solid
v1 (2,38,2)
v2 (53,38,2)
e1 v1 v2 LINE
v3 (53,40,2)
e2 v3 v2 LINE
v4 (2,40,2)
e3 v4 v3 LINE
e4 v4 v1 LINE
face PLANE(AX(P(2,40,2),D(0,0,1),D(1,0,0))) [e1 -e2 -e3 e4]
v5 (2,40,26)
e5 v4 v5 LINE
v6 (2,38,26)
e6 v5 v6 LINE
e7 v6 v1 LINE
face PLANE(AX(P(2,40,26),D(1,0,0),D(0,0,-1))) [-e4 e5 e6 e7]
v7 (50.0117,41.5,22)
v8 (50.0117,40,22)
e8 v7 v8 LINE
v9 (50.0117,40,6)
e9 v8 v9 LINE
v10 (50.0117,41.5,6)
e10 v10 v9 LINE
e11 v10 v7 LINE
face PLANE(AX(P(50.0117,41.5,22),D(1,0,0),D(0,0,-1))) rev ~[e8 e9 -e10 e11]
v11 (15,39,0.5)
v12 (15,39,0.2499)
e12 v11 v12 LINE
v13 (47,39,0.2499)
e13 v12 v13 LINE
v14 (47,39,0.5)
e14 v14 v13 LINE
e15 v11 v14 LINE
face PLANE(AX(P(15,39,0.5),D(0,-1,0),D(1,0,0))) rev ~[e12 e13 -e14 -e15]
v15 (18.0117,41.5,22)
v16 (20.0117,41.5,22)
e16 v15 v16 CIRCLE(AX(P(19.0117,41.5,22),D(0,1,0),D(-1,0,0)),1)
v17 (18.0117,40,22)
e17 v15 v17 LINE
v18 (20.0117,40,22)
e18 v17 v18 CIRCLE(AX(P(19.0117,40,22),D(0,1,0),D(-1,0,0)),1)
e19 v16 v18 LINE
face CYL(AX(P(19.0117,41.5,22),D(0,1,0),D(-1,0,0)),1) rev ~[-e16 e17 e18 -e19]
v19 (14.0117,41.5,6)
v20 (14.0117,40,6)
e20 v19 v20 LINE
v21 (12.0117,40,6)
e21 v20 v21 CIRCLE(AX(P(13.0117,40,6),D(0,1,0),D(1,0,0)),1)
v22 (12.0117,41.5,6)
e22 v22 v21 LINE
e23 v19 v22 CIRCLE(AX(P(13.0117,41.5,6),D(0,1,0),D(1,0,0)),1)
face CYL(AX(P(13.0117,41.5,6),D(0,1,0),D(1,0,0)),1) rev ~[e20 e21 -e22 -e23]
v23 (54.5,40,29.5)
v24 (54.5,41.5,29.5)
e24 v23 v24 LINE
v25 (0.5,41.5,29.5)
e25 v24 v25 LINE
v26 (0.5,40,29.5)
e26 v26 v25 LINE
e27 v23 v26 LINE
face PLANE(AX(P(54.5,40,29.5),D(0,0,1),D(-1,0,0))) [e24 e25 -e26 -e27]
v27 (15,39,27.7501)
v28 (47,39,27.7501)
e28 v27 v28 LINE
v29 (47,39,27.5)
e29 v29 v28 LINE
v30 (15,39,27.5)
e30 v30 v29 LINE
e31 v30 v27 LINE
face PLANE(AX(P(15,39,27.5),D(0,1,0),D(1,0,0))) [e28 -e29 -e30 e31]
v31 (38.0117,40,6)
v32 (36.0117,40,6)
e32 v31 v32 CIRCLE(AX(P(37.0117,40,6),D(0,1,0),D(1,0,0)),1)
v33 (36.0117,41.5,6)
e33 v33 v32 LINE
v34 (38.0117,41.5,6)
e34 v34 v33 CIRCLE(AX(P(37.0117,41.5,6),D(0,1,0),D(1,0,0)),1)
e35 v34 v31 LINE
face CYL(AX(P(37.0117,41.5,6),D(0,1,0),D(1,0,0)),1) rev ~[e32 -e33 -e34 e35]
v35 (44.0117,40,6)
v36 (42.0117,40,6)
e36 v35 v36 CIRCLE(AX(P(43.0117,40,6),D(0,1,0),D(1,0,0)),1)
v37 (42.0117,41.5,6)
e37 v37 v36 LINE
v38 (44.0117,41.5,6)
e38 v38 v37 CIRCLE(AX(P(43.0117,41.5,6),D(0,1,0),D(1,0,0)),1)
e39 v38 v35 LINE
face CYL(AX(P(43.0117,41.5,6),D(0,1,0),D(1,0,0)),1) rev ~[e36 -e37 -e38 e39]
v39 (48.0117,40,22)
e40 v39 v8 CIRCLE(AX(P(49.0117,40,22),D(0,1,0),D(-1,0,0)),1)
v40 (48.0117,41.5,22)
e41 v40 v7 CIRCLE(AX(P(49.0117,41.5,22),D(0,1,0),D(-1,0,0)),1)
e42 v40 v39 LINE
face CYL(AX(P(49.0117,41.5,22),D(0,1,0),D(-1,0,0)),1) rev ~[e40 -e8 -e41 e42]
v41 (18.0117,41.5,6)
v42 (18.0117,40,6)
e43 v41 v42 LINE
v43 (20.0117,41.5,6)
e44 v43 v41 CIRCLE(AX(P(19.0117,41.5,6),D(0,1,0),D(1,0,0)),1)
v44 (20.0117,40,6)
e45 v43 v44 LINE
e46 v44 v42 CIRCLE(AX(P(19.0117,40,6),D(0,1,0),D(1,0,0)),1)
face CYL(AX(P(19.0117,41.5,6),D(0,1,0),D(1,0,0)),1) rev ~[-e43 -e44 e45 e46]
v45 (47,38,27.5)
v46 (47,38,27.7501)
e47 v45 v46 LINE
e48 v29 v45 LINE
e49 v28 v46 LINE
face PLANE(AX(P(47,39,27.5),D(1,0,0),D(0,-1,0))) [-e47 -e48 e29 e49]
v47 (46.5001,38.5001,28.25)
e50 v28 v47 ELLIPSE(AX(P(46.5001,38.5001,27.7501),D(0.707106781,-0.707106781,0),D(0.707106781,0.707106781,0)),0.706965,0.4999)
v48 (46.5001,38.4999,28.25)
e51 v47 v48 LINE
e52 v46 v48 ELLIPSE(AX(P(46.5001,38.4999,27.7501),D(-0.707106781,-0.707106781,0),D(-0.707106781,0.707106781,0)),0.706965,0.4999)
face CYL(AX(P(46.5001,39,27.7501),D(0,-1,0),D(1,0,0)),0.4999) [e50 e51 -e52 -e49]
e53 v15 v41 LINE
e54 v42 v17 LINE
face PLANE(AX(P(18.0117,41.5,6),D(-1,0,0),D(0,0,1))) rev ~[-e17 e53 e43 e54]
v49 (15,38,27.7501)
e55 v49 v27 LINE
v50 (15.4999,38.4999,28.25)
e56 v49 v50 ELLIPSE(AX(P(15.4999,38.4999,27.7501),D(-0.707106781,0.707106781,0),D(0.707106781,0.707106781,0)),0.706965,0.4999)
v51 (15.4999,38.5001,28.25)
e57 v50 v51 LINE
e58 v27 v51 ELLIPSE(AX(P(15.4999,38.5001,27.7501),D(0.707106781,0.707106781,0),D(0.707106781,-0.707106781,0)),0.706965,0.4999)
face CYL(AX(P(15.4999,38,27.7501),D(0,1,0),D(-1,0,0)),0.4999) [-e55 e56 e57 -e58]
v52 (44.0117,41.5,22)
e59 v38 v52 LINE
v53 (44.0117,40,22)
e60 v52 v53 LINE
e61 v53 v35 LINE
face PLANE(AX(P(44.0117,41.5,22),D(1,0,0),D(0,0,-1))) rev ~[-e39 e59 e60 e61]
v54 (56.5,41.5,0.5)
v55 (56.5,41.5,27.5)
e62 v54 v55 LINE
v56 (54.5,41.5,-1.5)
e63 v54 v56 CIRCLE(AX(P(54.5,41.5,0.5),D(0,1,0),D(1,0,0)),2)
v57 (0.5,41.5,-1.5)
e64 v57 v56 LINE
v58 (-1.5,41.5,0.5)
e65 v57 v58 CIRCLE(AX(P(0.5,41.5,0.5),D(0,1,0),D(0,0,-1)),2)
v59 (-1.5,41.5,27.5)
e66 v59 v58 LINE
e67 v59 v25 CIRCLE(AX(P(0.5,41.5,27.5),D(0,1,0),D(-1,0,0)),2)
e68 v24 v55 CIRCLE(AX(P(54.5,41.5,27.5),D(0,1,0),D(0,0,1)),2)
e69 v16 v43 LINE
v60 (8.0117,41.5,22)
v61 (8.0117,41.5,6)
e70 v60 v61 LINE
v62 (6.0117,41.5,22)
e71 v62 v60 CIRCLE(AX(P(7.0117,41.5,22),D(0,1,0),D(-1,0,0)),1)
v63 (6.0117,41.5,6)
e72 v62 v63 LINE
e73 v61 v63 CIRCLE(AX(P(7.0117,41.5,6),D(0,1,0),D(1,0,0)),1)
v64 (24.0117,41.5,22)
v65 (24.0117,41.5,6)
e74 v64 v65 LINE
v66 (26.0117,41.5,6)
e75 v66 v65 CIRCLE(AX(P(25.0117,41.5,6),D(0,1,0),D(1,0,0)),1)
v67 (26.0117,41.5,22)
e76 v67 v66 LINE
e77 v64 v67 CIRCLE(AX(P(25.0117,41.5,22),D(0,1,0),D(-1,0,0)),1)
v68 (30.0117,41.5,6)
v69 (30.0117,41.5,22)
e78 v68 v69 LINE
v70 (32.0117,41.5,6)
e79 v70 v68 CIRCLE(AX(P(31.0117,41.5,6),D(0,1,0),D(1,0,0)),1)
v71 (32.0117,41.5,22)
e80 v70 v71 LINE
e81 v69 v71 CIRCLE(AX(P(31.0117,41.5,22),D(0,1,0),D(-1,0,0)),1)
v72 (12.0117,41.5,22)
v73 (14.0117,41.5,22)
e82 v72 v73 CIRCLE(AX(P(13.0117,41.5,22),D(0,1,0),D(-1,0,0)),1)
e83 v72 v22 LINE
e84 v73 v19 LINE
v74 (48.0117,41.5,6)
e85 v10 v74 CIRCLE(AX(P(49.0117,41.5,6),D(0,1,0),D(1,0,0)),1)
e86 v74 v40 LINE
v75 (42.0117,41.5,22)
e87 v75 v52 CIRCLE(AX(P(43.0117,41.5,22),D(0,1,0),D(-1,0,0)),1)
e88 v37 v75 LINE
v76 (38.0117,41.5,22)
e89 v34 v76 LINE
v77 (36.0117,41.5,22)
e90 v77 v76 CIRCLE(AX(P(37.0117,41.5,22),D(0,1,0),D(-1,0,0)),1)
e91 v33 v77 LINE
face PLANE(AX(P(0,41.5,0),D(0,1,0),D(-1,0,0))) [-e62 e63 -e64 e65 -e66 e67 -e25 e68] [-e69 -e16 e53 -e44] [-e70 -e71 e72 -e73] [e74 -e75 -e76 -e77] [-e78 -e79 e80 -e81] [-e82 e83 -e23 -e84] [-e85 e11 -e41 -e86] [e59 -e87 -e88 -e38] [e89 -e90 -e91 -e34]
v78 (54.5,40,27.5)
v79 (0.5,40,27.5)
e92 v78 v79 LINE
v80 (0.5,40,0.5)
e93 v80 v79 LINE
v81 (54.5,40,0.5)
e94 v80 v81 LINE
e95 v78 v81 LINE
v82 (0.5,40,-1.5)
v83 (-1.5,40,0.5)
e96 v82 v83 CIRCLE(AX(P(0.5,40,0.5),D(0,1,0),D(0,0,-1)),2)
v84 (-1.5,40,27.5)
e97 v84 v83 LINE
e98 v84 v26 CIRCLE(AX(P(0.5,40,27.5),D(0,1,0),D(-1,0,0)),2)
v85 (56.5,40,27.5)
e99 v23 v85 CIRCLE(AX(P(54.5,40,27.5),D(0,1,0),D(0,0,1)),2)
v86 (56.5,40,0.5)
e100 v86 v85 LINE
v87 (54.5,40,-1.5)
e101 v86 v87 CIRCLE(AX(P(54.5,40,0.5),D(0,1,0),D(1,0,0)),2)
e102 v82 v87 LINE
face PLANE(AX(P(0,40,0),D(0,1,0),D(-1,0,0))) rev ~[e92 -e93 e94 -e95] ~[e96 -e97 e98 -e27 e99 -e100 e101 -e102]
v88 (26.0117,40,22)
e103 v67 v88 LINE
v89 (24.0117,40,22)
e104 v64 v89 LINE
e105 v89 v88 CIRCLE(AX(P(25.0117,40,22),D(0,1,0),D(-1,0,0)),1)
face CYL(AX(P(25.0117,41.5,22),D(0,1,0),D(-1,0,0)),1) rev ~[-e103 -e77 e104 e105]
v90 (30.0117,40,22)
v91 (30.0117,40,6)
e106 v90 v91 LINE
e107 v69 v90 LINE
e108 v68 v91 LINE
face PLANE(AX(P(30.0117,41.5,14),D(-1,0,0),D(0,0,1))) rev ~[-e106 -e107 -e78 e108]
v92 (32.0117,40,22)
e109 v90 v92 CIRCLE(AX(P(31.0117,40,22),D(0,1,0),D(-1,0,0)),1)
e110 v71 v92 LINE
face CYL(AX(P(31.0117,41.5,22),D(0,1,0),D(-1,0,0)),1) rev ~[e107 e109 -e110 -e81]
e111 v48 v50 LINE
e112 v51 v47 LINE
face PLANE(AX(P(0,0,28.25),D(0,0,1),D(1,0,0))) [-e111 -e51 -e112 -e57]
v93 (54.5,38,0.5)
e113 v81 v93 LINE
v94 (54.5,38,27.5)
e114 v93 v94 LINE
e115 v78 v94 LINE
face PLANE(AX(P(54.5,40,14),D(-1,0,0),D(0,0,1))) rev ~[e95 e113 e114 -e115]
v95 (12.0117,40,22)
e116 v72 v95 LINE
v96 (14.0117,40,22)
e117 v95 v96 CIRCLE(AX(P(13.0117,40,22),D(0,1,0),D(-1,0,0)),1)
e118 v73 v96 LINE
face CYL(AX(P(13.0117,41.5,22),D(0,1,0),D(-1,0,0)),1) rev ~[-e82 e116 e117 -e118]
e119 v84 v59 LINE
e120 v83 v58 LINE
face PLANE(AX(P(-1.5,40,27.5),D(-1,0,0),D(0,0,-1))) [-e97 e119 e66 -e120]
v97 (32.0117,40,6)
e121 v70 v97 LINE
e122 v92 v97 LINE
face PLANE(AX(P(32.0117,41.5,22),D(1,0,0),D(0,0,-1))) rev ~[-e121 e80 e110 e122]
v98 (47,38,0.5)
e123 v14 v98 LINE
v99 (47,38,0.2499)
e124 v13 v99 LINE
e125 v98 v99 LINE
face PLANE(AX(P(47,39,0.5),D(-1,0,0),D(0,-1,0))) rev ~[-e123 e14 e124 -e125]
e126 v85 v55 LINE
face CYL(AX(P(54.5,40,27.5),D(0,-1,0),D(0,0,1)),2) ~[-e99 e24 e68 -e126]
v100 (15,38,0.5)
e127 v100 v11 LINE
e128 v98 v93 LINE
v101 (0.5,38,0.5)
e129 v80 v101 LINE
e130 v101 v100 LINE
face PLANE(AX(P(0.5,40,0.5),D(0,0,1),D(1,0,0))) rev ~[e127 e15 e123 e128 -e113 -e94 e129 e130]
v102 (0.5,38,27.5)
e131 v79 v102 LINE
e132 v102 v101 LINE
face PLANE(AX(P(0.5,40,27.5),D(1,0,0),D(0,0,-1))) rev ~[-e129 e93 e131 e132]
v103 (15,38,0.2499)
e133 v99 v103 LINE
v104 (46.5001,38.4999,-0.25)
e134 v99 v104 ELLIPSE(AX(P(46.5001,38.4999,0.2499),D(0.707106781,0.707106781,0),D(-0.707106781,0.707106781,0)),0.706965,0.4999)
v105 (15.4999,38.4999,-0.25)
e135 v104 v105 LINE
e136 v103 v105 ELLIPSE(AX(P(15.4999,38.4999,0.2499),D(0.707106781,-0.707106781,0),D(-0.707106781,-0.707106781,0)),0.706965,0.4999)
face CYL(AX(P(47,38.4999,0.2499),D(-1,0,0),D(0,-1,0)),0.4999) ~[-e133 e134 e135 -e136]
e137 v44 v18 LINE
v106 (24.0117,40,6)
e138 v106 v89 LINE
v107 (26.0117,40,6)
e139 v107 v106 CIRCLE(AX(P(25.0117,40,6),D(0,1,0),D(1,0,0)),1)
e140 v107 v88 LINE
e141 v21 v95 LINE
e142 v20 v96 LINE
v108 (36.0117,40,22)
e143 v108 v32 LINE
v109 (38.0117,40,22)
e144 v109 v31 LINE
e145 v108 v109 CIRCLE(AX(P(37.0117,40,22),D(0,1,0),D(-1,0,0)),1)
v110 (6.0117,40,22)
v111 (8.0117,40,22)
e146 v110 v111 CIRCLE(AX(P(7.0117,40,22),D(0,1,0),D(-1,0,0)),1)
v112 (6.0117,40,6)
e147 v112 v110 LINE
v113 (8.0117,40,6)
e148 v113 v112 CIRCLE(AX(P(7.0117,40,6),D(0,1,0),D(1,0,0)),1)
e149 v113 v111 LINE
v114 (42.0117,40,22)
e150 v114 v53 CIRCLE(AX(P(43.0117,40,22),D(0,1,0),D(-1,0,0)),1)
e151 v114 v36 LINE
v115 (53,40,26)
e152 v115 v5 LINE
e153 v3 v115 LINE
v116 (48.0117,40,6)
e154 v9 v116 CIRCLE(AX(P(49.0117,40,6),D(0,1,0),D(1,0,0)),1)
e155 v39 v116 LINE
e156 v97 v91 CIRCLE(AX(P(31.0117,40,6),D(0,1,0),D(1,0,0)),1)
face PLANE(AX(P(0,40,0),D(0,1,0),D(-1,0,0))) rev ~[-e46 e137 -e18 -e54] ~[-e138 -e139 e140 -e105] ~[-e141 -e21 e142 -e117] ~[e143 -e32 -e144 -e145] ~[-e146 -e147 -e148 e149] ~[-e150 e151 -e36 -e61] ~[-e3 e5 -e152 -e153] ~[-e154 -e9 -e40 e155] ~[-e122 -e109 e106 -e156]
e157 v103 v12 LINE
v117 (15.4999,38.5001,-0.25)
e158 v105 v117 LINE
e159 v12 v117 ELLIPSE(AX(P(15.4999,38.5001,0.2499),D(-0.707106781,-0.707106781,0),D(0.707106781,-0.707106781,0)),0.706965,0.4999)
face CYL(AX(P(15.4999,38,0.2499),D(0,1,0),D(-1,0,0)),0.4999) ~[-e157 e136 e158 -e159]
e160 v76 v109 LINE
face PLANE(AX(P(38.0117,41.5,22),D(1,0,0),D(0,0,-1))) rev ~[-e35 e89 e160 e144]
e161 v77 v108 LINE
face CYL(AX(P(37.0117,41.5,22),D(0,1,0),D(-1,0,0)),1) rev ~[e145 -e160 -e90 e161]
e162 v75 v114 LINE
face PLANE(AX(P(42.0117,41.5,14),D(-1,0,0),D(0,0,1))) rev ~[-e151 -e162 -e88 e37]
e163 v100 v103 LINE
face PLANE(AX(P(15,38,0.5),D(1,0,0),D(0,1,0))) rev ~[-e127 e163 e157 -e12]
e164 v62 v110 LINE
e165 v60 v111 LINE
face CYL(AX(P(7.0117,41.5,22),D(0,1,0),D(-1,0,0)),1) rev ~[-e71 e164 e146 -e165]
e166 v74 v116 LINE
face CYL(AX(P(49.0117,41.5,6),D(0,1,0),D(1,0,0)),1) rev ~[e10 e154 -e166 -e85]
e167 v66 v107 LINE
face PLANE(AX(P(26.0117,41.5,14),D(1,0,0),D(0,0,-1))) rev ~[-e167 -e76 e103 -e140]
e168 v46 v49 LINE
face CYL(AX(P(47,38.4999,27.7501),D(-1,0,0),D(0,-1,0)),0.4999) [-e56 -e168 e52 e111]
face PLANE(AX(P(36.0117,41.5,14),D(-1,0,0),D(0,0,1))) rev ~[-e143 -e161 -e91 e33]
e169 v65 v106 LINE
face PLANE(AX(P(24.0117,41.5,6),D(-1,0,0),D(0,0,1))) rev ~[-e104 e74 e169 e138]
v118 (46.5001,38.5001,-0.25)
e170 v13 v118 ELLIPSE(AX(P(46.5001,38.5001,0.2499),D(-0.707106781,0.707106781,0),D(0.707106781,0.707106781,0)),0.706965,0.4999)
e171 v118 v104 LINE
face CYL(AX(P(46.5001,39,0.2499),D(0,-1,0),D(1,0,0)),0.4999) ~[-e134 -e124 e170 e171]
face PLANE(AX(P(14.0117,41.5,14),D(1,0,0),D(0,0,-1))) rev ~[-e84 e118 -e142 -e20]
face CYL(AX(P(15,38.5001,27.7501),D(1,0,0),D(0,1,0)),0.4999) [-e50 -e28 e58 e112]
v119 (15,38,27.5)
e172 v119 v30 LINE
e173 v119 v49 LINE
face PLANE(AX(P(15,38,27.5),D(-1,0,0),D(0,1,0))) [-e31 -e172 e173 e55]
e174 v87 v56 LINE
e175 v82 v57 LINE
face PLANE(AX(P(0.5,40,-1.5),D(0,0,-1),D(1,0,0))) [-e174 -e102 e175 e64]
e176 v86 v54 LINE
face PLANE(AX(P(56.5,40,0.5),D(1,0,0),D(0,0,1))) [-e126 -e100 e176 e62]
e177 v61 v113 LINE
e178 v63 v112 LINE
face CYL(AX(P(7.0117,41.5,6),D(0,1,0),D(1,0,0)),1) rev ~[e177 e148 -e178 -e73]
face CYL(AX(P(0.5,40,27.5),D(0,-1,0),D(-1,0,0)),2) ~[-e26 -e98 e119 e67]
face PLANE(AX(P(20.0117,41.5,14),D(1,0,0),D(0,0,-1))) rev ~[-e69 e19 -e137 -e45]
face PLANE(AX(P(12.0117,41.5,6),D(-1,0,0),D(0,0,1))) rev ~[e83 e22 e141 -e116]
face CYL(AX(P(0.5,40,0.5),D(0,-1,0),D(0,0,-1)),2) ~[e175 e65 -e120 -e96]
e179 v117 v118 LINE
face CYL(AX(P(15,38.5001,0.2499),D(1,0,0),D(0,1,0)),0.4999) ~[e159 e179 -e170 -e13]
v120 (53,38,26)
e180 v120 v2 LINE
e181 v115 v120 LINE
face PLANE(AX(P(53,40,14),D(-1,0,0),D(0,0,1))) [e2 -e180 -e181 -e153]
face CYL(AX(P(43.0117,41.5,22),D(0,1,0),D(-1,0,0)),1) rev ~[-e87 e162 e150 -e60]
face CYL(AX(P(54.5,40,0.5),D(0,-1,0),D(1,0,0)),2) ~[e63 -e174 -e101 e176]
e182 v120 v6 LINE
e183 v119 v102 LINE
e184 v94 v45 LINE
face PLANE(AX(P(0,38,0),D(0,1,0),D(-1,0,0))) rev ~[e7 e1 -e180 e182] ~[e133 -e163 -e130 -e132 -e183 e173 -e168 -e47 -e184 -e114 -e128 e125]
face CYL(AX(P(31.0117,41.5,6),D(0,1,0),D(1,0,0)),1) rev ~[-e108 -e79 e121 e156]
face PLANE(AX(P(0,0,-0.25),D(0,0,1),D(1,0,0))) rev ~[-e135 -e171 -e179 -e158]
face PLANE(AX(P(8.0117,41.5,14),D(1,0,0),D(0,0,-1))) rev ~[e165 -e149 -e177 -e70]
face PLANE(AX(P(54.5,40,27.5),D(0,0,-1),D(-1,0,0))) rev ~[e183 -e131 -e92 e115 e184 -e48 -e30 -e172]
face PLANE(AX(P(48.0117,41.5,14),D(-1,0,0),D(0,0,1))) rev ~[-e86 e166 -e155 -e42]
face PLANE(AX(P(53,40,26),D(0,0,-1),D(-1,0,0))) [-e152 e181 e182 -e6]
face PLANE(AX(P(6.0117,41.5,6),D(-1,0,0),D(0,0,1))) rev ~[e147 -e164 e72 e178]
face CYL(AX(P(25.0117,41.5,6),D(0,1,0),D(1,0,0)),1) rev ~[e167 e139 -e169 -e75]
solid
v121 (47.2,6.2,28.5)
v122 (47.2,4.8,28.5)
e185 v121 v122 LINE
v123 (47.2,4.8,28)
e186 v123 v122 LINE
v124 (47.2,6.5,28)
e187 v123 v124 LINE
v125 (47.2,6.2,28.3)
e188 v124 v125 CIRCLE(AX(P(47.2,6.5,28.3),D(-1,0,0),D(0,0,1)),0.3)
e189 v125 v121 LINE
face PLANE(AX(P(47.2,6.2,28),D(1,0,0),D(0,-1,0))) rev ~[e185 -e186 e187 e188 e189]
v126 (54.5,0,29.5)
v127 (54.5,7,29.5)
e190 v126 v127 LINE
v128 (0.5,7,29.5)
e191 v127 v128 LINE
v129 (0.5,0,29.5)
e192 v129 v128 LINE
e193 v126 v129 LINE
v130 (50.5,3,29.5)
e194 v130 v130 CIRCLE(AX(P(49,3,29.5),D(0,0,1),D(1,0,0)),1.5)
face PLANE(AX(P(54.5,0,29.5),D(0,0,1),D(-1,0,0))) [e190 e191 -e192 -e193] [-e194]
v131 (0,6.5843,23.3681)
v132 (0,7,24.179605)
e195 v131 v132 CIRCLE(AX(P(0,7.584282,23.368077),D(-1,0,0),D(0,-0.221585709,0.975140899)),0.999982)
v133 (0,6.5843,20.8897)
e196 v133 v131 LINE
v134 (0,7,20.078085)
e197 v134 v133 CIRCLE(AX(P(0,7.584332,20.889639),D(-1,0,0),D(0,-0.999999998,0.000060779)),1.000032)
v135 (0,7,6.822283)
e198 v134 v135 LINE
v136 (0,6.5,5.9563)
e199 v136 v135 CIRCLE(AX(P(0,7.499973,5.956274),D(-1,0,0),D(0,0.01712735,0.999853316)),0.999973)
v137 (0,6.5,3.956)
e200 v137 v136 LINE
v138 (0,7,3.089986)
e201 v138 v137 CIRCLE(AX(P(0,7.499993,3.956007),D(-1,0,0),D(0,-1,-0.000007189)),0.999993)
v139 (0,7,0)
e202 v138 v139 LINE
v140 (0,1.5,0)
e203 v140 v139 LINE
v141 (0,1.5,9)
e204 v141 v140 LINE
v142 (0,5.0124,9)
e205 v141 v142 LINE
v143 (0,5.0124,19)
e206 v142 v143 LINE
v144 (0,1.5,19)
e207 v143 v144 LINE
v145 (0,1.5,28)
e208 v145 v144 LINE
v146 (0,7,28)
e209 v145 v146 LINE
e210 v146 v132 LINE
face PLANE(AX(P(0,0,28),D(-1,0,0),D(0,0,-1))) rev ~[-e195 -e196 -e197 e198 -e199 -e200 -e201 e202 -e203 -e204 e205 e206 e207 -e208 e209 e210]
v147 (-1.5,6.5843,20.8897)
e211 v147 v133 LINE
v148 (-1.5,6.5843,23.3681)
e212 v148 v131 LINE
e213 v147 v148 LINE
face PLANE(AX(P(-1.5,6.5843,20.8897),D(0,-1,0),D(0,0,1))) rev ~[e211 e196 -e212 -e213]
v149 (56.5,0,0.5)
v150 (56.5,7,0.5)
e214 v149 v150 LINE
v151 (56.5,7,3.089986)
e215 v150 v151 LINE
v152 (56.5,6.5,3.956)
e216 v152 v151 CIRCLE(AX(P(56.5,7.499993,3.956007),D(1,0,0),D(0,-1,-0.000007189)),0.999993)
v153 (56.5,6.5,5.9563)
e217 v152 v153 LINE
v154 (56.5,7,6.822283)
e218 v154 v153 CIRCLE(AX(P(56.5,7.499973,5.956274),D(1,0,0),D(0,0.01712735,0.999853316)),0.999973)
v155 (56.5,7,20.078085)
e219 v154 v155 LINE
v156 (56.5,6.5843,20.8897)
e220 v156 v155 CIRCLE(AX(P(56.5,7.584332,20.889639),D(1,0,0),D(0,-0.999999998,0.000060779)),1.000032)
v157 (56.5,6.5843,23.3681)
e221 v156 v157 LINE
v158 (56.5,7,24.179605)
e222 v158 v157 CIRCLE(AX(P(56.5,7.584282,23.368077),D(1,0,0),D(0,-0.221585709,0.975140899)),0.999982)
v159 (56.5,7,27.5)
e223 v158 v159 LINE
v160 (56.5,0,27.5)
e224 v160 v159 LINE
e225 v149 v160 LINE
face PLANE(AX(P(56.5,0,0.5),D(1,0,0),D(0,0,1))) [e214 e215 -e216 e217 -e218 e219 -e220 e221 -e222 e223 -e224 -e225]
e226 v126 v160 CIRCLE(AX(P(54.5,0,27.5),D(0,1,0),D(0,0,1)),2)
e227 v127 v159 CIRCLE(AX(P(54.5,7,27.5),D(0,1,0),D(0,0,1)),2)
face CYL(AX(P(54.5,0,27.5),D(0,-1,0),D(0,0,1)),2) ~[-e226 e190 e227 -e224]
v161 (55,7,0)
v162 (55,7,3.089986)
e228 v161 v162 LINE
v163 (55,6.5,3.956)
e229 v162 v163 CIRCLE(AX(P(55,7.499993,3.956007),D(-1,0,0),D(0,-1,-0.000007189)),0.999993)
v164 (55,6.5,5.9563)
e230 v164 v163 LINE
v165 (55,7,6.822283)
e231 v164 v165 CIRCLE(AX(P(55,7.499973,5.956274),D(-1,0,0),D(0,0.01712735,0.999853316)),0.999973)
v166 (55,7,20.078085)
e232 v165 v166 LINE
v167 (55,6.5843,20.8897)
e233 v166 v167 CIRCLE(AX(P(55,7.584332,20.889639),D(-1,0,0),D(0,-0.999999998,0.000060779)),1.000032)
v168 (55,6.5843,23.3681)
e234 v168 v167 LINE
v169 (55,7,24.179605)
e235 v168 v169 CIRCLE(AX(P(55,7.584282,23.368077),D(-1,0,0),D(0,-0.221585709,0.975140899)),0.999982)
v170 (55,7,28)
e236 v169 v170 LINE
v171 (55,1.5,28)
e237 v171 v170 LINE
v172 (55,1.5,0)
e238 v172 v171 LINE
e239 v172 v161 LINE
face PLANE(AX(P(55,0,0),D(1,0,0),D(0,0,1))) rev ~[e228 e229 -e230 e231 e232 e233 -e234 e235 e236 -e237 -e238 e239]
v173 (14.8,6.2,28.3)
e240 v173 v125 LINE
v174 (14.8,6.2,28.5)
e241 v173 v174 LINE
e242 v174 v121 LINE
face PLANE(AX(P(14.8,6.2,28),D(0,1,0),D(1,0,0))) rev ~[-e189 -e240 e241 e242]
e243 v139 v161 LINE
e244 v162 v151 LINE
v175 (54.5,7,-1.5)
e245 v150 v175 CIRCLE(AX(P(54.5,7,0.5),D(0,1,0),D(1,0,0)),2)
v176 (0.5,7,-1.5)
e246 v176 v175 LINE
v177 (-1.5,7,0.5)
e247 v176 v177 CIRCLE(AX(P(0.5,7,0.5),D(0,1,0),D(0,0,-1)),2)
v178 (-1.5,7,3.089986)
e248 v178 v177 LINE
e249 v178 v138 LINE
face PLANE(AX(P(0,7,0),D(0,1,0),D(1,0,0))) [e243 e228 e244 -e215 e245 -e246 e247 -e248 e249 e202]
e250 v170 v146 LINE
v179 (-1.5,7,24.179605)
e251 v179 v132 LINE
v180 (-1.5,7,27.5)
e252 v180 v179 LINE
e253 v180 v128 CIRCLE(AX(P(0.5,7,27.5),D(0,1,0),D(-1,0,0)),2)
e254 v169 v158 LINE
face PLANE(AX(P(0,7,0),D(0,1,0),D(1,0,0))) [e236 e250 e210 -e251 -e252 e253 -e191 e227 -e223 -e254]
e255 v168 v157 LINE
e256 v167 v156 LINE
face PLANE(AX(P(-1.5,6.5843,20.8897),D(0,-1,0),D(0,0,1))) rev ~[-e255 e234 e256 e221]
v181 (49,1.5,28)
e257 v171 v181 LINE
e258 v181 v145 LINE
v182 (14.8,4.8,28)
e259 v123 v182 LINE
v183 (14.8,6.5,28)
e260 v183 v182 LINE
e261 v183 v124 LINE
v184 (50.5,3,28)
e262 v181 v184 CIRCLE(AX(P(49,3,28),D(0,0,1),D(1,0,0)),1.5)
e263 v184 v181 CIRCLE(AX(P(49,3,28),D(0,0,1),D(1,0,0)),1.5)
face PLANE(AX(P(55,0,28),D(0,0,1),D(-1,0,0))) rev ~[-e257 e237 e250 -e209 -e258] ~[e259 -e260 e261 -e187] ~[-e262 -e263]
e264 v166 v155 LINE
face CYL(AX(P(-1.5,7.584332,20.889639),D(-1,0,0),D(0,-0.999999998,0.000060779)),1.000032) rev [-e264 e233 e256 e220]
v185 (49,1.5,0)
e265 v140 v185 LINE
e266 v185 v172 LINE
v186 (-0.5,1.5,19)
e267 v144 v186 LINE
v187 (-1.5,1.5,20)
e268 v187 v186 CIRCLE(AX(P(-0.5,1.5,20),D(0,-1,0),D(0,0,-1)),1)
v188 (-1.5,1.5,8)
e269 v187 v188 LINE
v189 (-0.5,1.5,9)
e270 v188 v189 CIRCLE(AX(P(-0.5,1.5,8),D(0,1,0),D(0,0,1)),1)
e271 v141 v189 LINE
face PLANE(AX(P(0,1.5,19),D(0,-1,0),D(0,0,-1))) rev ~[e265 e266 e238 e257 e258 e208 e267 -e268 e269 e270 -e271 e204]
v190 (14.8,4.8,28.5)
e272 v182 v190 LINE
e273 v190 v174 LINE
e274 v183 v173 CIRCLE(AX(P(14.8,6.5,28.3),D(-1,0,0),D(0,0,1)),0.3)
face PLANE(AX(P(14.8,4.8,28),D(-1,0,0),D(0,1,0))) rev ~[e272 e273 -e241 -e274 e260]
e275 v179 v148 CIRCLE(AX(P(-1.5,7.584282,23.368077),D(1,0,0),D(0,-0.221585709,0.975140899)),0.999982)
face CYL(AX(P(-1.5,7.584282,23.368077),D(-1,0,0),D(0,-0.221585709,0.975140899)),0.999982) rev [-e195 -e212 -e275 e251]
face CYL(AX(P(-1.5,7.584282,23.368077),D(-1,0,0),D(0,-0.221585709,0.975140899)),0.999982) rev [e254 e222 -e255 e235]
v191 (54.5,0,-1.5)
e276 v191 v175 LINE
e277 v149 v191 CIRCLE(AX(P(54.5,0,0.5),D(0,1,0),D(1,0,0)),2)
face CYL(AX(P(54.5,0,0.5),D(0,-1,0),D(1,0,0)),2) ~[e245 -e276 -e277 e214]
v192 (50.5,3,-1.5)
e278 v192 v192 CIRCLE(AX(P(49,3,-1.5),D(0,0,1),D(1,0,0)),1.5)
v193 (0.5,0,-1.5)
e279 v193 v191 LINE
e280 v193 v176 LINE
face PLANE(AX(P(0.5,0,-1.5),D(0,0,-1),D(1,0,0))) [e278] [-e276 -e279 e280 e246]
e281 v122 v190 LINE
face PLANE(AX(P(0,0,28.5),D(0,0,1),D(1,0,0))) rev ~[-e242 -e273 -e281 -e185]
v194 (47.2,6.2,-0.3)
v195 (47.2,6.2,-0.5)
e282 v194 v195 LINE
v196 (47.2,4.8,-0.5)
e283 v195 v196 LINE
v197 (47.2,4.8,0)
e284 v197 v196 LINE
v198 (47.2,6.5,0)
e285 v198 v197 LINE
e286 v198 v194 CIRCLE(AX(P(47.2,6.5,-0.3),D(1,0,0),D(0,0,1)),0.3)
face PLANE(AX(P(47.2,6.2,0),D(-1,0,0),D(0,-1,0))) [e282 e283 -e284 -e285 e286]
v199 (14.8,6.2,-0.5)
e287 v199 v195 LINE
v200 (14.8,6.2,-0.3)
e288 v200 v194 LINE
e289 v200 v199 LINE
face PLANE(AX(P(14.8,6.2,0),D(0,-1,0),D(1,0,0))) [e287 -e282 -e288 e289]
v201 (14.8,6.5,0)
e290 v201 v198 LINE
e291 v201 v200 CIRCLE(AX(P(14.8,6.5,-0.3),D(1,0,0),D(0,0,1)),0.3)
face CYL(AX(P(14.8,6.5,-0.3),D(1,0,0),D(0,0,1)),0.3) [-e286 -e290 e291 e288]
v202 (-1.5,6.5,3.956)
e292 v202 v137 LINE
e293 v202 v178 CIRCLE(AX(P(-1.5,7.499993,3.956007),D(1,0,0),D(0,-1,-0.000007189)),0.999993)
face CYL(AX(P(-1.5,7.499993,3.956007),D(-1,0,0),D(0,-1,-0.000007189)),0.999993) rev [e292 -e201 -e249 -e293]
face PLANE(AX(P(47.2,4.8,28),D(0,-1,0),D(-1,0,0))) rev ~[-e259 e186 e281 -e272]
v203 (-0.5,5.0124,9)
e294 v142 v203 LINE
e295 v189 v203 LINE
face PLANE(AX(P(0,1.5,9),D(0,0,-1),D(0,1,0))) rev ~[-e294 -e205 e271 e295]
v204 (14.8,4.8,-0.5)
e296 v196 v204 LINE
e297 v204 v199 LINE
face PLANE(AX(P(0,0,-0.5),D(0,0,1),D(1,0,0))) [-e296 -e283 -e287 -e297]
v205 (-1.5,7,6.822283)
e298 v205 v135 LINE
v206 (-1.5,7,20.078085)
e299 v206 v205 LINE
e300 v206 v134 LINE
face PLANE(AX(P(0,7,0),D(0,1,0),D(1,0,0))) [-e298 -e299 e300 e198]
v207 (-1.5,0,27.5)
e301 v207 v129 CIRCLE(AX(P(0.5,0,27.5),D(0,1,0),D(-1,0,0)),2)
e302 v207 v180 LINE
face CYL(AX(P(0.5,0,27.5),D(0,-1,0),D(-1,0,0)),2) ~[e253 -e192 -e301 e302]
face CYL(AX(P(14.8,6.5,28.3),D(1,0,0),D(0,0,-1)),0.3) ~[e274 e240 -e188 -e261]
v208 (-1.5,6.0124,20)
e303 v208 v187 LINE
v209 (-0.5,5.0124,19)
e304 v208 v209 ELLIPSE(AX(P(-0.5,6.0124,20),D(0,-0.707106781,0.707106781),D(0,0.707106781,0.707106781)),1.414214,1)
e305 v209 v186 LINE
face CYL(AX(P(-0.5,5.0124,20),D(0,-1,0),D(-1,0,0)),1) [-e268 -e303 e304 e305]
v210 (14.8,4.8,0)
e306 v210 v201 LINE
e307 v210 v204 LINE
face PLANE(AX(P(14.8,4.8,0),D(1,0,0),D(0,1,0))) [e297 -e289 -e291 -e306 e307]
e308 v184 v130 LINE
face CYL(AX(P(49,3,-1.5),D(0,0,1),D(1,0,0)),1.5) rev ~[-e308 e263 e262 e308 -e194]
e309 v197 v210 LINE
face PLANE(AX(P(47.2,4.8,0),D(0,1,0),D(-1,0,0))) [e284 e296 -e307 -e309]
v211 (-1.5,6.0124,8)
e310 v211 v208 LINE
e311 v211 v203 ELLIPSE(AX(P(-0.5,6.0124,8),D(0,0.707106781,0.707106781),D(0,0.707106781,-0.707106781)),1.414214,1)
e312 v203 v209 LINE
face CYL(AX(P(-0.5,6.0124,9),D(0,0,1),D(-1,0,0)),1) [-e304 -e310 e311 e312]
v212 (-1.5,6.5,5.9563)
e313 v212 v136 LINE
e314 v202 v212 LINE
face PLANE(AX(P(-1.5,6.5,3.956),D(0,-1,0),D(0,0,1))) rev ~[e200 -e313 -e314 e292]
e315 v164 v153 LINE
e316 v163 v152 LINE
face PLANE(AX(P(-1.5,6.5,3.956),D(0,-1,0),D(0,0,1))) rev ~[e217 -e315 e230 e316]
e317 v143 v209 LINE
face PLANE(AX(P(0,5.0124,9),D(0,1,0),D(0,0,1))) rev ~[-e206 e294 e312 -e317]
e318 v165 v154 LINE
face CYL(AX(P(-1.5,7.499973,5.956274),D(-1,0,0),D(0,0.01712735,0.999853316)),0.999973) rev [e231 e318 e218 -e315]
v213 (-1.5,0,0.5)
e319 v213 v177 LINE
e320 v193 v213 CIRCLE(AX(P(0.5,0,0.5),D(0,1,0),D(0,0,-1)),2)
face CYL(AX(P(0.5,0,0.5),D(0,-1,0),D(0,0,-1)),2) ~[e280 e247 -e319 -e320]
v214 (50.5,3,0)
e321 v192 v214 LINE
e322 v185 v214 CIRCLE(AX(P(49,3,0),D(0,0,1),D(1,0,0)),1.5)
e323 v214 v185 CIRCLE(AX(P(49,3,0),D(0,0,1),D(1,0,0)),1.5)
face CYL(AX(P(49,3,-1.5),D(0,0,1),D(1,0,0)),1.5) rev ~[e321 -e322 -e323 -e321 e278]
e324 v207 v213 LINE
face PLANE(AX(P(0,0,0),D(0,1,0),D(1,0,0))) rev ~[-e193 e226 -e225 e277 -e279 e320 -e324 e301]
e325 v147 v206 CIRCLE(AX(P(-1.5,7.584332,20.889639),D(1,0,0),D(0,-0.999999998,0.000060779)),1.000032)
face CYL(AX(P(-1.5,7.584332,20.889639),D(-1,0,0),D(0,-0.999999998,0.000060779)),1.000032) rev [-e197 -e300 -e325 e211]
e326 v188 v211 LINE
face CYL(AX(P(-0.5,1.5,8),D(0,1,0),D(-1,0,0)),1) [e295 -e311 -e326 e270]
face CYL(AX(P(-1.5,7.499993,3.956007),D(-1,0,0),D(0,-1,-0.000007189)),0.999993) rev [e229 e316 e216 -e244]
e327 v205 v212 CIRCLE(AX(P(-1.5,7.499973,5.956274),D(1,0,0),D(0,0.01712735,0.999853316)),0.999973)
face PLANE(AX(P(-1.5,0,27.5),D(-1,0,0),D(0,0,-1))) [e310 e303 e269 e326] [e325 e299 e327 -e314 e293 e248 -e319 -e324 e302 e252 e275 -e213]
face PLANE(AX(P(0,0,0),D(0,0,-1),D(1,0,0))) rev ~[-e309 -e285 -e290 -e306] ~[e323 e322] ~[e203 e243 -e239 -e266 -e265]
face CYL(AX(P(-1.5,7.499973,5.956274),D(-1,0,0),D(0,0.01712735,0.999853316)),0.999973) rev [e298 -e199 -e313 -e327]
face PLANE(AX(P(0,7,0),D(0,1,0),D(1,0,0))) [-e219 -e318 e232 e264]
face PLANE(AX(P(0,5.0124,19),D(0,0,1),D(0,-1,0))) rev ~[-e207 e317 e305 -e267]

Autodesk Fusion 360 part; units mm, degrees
sketch "Bodemplaat" plane through (0, 0, 0) normal (0, 1, 0) x (1, 0, 0)
  line L0 (0, 0) -> (55, 0)
  line L1 (55, 0) -> (55, -28)
  line L2 (55, -28) -> (0, -28)
  line L3 (0, -28) -> (0, 0)
  line L4 (54.5, -29.5) -> (0.5, -29.5)
  line L5 (-1.5, -27.5) -> (-1.5, -0.5)
  line L6 (0.5, 1.5) -> (54.5, 1.5)
  line L7 (56.5, -0.5) -> (56.5, -27.5)
  arc A0 (0.5, 1.5) -> (-1.5, -0.5) centre (0.5, -0.5) ccw
  arc A1 (-1.5, -27.5) -> (0.5, -29.5) centre (0.5, -27.5) ccw
  arc A2 (54.5, -29.5) -> (56.5, -27.5) centre (54.5, -27.5) ccw
  arc A3 (56.5, -0.5) -> (54.5, 1.5) centre (54.5, -0.5) ccw
  dimension "d1" = 55
  dimension "d2" = 28
  dimension "d4" = 2
sketch "Deksel" plane through (0, 0, 0) normal (0, 1, 0) x (-1, 0, 0)
  line L0 (0, 0) -> (-55, 0)
  line L1 (-55, 0) -> (-55, 28)
  line L2 (-55, 28) -> (0, 28)
  line L3 (0, 28) -> (0, 0)
  line L4 (-54.5, 29.5) -> (-0.5, 29.5)
  line L5 (1.5, 27.5) -> (1.5, 0.5)
  line L6 (-0.5, -1.5) -> (-54.5, -1.5)
  line L7 (-56.5, 0.5) -> (-56.5, 27.5)
  arc A0 (-0.5, -1.5) -> (1.5, 0.5) centre (-0.5, 0.5) ccw
  arc A1 (1.5, 27.5) -> (-0.5, 29.5) centre (-0.5, 27.5) ccw
  arc A2 (-54.5, 29.5) -> (-56.5, 27.5) centre (-54.5, 27.5) ccw
  arc A3 (-56.5, 0.5) -> (-54.5, -1.5) centre (-54.5, 0.5) ccw
  line L8 (-54.5, 27.5) -> (-0.5, 27.5)
  line L9 (-0.5, 27.5) -> (-0.5, 0.5)
  line L10 (-0.5, 0.5) -> (-54.5, 0.5)
  line L11 (-54.5, 0.5) -> (-54.5, 27.5)
  line L12 (-53, 26) -> (-2, 26)
  line L13 (-2, 26) -> (-2, 2)
  line L14 (-2, 2) -> (-53, 2)
  line L15 (-53, 2) -> (-53, 26)
  line L16 (0, 14) -> (-55, 14)
  line L17 (-6.0117, 6) -> (-6.0117, 22)
  arc A4 (-6.0117, 22) -> (-8.0117, 22) centre (-7.0117, 22) ccw
  line L18 (-8.0117, 22) -> (-8.0117, 6)
  arc A5 (-8.0117, 6) -> (-6.0117, 6) centre (-7.0117, 6) ccw
  line L19 (-7.0117, 6) -> (-7.0117, 22) construction
  line L20 (-13.0117, 6) -> (-13.0117, 22) construction
  arc A6 (-14.0117, 6) -> (-12.0117, 6) centre (-13.0117, 6) ccw
  line L21 (-14.0117, 22) -> (-14.0117, 6)
  arc A7 (-12.0117, 22) -> (-14.0117, 22) centre (-13.0117, 22) ccw
  line L22 (-12.0117, 6) -> (-12.0117, 22)
  line L23 (-19.0117, 6) -> (-19.0117, 22) construction
  line L24 (-25.0117, 6) -> (-25.0117, 22) construction
  line L25 (-20.0117, 22) -> (-20.0117, 6)
  line L26 (-18.0117, 6) -> (-18.0117, 22)
  arc A8 (-24.0117, 22) -> (-26.0117, 22) centre (-25.0117, 22) ccw
  line L27 (-26.0117, 22) -> (-26.0117, 6)
  arc A9 (-20.0117, 6) -> (-18.0117, 6) centre (-19.0117, 6) ccw
  line L28 (-24.0117, 6) -> (-24.0117, 22)
  arc A10 (-18.0117, 22) -> (-20.0117, 22) centre (-19.0117, 22) ccw
  arc A11 (-26.0117, 6) -> (-24.0117, 6) centre (-25.0117, 6) ccw
  line L29 (-49.0117, 6) -> (-49.0117, 22) construction
  line L30 (-50.0117, 22) -> (-50.0117, 6)
  line L31 (-48.0117, 6) -> (-48.0117, 22)
  arc A12 (-48.0117, 22) -> (-50.0117, 22) centre (-49.0117, 22) ccw
  arc A13 (-50.0117, 6) -> (-48.0117, 6) centre (-49.0117, 6) ccw
  line L32 (-37.0117, 6) -> (-37.0117, 22) construction
  line L33 (-30.0117, 6) -> (-30.0117, 22)
  arc A14 (-30.0117, 22) -> (-32.0117, 22) centre (-31.0117, 22) ccw
  arc A15 (-36.0117, 22) -> (-38.0117, 22) centre (-37.0117, 22) ccw
  arc A16 (-32.0117, 6) -> (-30.0117, 6) centre (-31.0117, 6) ccw
  arc A17 (-38.0117, 6) -> (-36.0117, 6) centre (-37.0117, 6) ccw
  line L34 (-32.0117, 22) -> (-32.0117, 6)
  line L35 (-38.0117, 22) -> (-38.0117, 6)
  line L36 (-31.0117, 6) -> (-31.0117, 22) construction
  line L37 (-36.0117, 6) -> (-36.0117, 22)
  line L38 (-44.0117, 22) -> (-44.0117, 6)
  arc A18 (-42.0117, 22) -> (-44.0117, 22) centre (-43.0117, 22) ccw
  line L39 (-42.0117, 6) -> (-42.0117, 22)
  arc A19 (-44.0117, 6) -> (-42.0117, 6) centre (-43.0117, 6) ccw
  line L40 (-43.0117, 6) -> (-43.0117, 22) construction
  point P0 (-7.0117, 14)
  point P1 (-13.0117, 14)
  point P2 (-25.0117, 14)
  point P3 (-19.0117, 14)
  point P4 (-49.0117, 14)
  point P5 (-43.0117, 14)
  point P6 (-37.0117, 14)
  point P7 (-31.0117, 14)
  dimension "d5" = 55
  dimension "d6" = 28
  dimension "d8" = 2
  dimension "d9" = 0.5
  dimension "d18" = 2
  dimension "d40" = 2
  dimension "d41" = 2
  dimension "d42" = 2
  dimension "d43" = 2
  dimension "d44" = 2
  dimension "d45" = 2
  dimension "d46" = 2
  dimension "d47" = 2
extrude "Extrude1" add sketch "Bodemplaat" along normal blind 1.5 contours L0 L1 L2 L3 makes body 1
extrude "Extrude2" add sketch "Bodemplaat" along normal blind 7 bodies 1
ref_plane "WorkPlane1" through (27.5, 40, 14) normal (0, 1, 0) x (-1, 0, 0)
extrude "Extrude3" add sketch "Deksel" along normal blind 1.5 from surface at 40 separate body contours L0 L1 L3 L9 L10 L11 L16 | L1 L2 L3 L8 L9 L11 L16 | L8 L9 L11 L12 L13 L15 L16 | L9 L10 L11 L13 L14 L15 L16 | L12 L13 L15 L16 L17 A4 L18 L21 A7 L22 L25 L26 A8 L27 L28 A10 L30 L31 A12 L33 A14 A15 L34 L35 L37 L38 A18 L39 | L13 L14 L15 L16 L17 L18 A5 A6 L21 L22 L25 L26 L27 A9 L28 A11 L30 L31 A13 L33 A16 A17 L34 L35 L37 L38 L39 A19 | L16 L17 L18 A5 | L16 L17 A4 L18 | L16 L30 L31 A12 | L16 L30 L31 A13 | L16 A6 L21 L22 | L16 L21 A7 L22 | L16 L38 A18 L39 | L16 L38 L39 A19 | L16 L25 L26 A9 | L16 L25 L26 A10 | L16 A15 L35 L37 | L16 A17 L35 L37 | L16 L27 L28 A11 | L16 A8 L27 L28 | L16 L33 A14 L34 | L16 L33 A16 L34 | L4 L5 L6 L7 A0 A1 A2 A3 makes body 2
extrude "Extrude4" add sketch "Deksel" against normal blind 2 from surface at 40 contours L8 L9 L11 L12 L13 L15 L16 | L9 L10 L11 L13 L14 L15 L16 bodies 2
sketch "Zijkant" plane through (0, 0, 0) normal (0, 0, 1) x (1, 0, 0)
  line L0 (0, 0) -> (55, 0)
  line L1 (55, 0) -> (55, 7)
  line L2 (55, 7) -> (0, 7)
  line L3 (0, 7) -> (0, 0)
  line L4 (0, 40) -> (55, 40)
  line L5 (55, 40) -> (55, 37)
  line L6 (55, 37) -> (0, 37)
  line L7 (0, 37) -> (0, 40)
  line L8 (15, 6) -> (47, 6)
  line L9 (47, 6) -> (47, 5)
  line L10 (47, 5) -> (15, 5)
  line L11 (15, 5) -> (15, 6)
  line L12 (15, 39) -> (47, 39)
  line L13 (47, 39) -> (47, 38)
  line L14 (47, 38) -> (15, 38)
  line L15 (15, 38) -> (15, 39)
  line L16 (47.2, 4.8) -> (14.8, 4.8)
  line L17 (14.8, 4.8) -> (14.8, 6.2)
  line L18 (14.8, 6.2) -> (47.2, 6.2)
  line L19 (47.2, 6.2) -> (47.2, 4.8)
  dimension "d29" = -0.2
  dimension "d76" = 7
extrude "Extrude7" cut sketch "Zijkant" against normal blind 0.5 contours L8 L9 L10 L11 | L16 L17 L18 L19 bodies 1
extrude "Extrude8" cut sketch "Zijkant" along normal blind 0.5 from surface at 28 contours L8 L9 L10 L11 | L16 L17 L18 L19 bodies 1
extrude "Extrude6" add sketch "Zijkant" against normal blind 0.75 from surface at 0.5 contours L12 L13 L14 L15 bodies 2
extrude "Extrude9" add sketch "Zijkant" along normal blind 0.75 from surface at 27.5 contours L12 L13 L14 L15 bodies 2
fillet "Fillet1" radius 0.5 8 edges at (31, 39, -0.25) (31, 38, -0.25) (15, 38.5, -0.25) (47, 38.5, -0.25) (31, 39, 28.25) (15, 38.5, 28.25) (31, 38, 28.25) (47, 38.5, 28.25) on bodies 2
extrude "Extrude10" cut sketch "Deksel" against normal up to surface (1.5 mm away) from surface at 41.5 contours L16 L17 L18 A5 | L16 L17 A4 L18 | L16 L30 L31 A12 | L16 L30 L31 A13 | L16 A6 L21 L22 | L16 L21 A7 L22 | L16 L38 A18 L39 | L16 L38 L39 A19 | L16 L25 L26 A9 | L16 L25 L26 A10 | L16 A15 L35 L37 | L16 A17 L35 L37 | L16 L27 L28 A11 | L16 A8 L27 L28 | L16 L33 A14 L34 | L16 L33 A16 L34 bodies 2
cylinder "CylinderPrimitive3" cut diameter 3 height -31 placed x (1, 0, 0) y (0, 1, 0) z (0, 0, 1) at (49, 3, 29.5) bodies 1
sketch "Sketch6" plane through (0, 0, 0) normal (1, 0, 0) x (0, 0, -1)
  line L0 (0, 0) -> (-28, 0)
  line L1 (-28, 0) -> (-28, 7)
  line L2 (-28, 7) -> (0, 7)
  line L3 (0, 7) -> (0, 0)
  line L4 (0, 0) -> (-28, 0)
  line L5 (-28, 0) -> (-28, 1.5)
  line L6 (-28, 1.5) -> (0, 1.5)
  line L7 (0, 1.5) -> (0, 0)
  line L8 (-9, 5.0124) -> (-19, 5.0124)
  line L9 (-19, 5.0124) -> (-19, 1.5)
  line L10 (-19, 1.5) -> (-9, 1.5)
  line L11 (-9, 1.5) -> (-9, 5.0124)
  line L12 (-24.2495, 7) -> (-20.2495, 7)
  line L13 (-20.2495, 7) -> (-20.0614, 7.0239)
  line L14 (-20.8897, 6.5843) -> (-23.3681, 6.5843)
  arc A0 (-24.3432, 7.3627) -> (-23.3681, 6.5843) centre (-23.3681, 7.5843) ccw
  arc A1 (-20.8897, 6.5843) -> (-20.0614, 7.0239) centre (-20.8897, 7.5843) ccw
  line L15 (-6.9566, 7) -> (-2.9566, 7)
  line L16 (-2.9566, 7) -> (-2.9561, 7.4869)
  line L17 (-3.956, 6.5) -> (-5.9563, 6.5)
  line L18 (-6.9561, 7.5171) -> (-6.9566, 7)
  arc A2 (-6.9561, 7.5171) -> (-5.9563, 6.5) centre (-5.9563, 7.5) ccw
  arc A3 (-3.956, 6.5) -> (-2.9561, 7.4869) centre (-3.956, 7.5) ccw
  point P0 (-23.34, 6.5843)
  point P1 (-6.9571, 6.5)
  dimension "d55" = 28
  dimension "d56" = 1.5
  dimension "d72" = 10
  dimension "d73" = 28
  dimension "d77" = 7
  dimension "d78" = 4
  dimension "d80" = 1
  dimension "d81" = 1
  dimension "d82" = 4
  dimension "d83" = 0.5
  dimension "d84" = 1
  dimension "d85" = 1
extrude "Extrude11" cut sketch "Sketch6" against normal up to surface (1.5 mm away) contours L6 L8 L9 L10 L11 bodies 1
fillet "Fillet2" radius 1 3 edges at (-1.5, 3.2562, 9) (-1.5, 5.0124, 14) (-1.5, 3.2562, 19) on bodies 1
ref_plane "WorkPlane2" through (0, 4.5, 0) normal (0, 1, 0) x (0, 0, 1)
extrude "Extrude12" cut sketch "Sketch6" along normal blind 58 from surface at -1.5 contours L2 L15 L17 A2 A3 | L2 L12 L14 A0 A1 bodies 1
fillet "Fillet3" radius 0.3 2 edges at (31, 6.2, 0) (31, 6.2, 28) on bodies 1
